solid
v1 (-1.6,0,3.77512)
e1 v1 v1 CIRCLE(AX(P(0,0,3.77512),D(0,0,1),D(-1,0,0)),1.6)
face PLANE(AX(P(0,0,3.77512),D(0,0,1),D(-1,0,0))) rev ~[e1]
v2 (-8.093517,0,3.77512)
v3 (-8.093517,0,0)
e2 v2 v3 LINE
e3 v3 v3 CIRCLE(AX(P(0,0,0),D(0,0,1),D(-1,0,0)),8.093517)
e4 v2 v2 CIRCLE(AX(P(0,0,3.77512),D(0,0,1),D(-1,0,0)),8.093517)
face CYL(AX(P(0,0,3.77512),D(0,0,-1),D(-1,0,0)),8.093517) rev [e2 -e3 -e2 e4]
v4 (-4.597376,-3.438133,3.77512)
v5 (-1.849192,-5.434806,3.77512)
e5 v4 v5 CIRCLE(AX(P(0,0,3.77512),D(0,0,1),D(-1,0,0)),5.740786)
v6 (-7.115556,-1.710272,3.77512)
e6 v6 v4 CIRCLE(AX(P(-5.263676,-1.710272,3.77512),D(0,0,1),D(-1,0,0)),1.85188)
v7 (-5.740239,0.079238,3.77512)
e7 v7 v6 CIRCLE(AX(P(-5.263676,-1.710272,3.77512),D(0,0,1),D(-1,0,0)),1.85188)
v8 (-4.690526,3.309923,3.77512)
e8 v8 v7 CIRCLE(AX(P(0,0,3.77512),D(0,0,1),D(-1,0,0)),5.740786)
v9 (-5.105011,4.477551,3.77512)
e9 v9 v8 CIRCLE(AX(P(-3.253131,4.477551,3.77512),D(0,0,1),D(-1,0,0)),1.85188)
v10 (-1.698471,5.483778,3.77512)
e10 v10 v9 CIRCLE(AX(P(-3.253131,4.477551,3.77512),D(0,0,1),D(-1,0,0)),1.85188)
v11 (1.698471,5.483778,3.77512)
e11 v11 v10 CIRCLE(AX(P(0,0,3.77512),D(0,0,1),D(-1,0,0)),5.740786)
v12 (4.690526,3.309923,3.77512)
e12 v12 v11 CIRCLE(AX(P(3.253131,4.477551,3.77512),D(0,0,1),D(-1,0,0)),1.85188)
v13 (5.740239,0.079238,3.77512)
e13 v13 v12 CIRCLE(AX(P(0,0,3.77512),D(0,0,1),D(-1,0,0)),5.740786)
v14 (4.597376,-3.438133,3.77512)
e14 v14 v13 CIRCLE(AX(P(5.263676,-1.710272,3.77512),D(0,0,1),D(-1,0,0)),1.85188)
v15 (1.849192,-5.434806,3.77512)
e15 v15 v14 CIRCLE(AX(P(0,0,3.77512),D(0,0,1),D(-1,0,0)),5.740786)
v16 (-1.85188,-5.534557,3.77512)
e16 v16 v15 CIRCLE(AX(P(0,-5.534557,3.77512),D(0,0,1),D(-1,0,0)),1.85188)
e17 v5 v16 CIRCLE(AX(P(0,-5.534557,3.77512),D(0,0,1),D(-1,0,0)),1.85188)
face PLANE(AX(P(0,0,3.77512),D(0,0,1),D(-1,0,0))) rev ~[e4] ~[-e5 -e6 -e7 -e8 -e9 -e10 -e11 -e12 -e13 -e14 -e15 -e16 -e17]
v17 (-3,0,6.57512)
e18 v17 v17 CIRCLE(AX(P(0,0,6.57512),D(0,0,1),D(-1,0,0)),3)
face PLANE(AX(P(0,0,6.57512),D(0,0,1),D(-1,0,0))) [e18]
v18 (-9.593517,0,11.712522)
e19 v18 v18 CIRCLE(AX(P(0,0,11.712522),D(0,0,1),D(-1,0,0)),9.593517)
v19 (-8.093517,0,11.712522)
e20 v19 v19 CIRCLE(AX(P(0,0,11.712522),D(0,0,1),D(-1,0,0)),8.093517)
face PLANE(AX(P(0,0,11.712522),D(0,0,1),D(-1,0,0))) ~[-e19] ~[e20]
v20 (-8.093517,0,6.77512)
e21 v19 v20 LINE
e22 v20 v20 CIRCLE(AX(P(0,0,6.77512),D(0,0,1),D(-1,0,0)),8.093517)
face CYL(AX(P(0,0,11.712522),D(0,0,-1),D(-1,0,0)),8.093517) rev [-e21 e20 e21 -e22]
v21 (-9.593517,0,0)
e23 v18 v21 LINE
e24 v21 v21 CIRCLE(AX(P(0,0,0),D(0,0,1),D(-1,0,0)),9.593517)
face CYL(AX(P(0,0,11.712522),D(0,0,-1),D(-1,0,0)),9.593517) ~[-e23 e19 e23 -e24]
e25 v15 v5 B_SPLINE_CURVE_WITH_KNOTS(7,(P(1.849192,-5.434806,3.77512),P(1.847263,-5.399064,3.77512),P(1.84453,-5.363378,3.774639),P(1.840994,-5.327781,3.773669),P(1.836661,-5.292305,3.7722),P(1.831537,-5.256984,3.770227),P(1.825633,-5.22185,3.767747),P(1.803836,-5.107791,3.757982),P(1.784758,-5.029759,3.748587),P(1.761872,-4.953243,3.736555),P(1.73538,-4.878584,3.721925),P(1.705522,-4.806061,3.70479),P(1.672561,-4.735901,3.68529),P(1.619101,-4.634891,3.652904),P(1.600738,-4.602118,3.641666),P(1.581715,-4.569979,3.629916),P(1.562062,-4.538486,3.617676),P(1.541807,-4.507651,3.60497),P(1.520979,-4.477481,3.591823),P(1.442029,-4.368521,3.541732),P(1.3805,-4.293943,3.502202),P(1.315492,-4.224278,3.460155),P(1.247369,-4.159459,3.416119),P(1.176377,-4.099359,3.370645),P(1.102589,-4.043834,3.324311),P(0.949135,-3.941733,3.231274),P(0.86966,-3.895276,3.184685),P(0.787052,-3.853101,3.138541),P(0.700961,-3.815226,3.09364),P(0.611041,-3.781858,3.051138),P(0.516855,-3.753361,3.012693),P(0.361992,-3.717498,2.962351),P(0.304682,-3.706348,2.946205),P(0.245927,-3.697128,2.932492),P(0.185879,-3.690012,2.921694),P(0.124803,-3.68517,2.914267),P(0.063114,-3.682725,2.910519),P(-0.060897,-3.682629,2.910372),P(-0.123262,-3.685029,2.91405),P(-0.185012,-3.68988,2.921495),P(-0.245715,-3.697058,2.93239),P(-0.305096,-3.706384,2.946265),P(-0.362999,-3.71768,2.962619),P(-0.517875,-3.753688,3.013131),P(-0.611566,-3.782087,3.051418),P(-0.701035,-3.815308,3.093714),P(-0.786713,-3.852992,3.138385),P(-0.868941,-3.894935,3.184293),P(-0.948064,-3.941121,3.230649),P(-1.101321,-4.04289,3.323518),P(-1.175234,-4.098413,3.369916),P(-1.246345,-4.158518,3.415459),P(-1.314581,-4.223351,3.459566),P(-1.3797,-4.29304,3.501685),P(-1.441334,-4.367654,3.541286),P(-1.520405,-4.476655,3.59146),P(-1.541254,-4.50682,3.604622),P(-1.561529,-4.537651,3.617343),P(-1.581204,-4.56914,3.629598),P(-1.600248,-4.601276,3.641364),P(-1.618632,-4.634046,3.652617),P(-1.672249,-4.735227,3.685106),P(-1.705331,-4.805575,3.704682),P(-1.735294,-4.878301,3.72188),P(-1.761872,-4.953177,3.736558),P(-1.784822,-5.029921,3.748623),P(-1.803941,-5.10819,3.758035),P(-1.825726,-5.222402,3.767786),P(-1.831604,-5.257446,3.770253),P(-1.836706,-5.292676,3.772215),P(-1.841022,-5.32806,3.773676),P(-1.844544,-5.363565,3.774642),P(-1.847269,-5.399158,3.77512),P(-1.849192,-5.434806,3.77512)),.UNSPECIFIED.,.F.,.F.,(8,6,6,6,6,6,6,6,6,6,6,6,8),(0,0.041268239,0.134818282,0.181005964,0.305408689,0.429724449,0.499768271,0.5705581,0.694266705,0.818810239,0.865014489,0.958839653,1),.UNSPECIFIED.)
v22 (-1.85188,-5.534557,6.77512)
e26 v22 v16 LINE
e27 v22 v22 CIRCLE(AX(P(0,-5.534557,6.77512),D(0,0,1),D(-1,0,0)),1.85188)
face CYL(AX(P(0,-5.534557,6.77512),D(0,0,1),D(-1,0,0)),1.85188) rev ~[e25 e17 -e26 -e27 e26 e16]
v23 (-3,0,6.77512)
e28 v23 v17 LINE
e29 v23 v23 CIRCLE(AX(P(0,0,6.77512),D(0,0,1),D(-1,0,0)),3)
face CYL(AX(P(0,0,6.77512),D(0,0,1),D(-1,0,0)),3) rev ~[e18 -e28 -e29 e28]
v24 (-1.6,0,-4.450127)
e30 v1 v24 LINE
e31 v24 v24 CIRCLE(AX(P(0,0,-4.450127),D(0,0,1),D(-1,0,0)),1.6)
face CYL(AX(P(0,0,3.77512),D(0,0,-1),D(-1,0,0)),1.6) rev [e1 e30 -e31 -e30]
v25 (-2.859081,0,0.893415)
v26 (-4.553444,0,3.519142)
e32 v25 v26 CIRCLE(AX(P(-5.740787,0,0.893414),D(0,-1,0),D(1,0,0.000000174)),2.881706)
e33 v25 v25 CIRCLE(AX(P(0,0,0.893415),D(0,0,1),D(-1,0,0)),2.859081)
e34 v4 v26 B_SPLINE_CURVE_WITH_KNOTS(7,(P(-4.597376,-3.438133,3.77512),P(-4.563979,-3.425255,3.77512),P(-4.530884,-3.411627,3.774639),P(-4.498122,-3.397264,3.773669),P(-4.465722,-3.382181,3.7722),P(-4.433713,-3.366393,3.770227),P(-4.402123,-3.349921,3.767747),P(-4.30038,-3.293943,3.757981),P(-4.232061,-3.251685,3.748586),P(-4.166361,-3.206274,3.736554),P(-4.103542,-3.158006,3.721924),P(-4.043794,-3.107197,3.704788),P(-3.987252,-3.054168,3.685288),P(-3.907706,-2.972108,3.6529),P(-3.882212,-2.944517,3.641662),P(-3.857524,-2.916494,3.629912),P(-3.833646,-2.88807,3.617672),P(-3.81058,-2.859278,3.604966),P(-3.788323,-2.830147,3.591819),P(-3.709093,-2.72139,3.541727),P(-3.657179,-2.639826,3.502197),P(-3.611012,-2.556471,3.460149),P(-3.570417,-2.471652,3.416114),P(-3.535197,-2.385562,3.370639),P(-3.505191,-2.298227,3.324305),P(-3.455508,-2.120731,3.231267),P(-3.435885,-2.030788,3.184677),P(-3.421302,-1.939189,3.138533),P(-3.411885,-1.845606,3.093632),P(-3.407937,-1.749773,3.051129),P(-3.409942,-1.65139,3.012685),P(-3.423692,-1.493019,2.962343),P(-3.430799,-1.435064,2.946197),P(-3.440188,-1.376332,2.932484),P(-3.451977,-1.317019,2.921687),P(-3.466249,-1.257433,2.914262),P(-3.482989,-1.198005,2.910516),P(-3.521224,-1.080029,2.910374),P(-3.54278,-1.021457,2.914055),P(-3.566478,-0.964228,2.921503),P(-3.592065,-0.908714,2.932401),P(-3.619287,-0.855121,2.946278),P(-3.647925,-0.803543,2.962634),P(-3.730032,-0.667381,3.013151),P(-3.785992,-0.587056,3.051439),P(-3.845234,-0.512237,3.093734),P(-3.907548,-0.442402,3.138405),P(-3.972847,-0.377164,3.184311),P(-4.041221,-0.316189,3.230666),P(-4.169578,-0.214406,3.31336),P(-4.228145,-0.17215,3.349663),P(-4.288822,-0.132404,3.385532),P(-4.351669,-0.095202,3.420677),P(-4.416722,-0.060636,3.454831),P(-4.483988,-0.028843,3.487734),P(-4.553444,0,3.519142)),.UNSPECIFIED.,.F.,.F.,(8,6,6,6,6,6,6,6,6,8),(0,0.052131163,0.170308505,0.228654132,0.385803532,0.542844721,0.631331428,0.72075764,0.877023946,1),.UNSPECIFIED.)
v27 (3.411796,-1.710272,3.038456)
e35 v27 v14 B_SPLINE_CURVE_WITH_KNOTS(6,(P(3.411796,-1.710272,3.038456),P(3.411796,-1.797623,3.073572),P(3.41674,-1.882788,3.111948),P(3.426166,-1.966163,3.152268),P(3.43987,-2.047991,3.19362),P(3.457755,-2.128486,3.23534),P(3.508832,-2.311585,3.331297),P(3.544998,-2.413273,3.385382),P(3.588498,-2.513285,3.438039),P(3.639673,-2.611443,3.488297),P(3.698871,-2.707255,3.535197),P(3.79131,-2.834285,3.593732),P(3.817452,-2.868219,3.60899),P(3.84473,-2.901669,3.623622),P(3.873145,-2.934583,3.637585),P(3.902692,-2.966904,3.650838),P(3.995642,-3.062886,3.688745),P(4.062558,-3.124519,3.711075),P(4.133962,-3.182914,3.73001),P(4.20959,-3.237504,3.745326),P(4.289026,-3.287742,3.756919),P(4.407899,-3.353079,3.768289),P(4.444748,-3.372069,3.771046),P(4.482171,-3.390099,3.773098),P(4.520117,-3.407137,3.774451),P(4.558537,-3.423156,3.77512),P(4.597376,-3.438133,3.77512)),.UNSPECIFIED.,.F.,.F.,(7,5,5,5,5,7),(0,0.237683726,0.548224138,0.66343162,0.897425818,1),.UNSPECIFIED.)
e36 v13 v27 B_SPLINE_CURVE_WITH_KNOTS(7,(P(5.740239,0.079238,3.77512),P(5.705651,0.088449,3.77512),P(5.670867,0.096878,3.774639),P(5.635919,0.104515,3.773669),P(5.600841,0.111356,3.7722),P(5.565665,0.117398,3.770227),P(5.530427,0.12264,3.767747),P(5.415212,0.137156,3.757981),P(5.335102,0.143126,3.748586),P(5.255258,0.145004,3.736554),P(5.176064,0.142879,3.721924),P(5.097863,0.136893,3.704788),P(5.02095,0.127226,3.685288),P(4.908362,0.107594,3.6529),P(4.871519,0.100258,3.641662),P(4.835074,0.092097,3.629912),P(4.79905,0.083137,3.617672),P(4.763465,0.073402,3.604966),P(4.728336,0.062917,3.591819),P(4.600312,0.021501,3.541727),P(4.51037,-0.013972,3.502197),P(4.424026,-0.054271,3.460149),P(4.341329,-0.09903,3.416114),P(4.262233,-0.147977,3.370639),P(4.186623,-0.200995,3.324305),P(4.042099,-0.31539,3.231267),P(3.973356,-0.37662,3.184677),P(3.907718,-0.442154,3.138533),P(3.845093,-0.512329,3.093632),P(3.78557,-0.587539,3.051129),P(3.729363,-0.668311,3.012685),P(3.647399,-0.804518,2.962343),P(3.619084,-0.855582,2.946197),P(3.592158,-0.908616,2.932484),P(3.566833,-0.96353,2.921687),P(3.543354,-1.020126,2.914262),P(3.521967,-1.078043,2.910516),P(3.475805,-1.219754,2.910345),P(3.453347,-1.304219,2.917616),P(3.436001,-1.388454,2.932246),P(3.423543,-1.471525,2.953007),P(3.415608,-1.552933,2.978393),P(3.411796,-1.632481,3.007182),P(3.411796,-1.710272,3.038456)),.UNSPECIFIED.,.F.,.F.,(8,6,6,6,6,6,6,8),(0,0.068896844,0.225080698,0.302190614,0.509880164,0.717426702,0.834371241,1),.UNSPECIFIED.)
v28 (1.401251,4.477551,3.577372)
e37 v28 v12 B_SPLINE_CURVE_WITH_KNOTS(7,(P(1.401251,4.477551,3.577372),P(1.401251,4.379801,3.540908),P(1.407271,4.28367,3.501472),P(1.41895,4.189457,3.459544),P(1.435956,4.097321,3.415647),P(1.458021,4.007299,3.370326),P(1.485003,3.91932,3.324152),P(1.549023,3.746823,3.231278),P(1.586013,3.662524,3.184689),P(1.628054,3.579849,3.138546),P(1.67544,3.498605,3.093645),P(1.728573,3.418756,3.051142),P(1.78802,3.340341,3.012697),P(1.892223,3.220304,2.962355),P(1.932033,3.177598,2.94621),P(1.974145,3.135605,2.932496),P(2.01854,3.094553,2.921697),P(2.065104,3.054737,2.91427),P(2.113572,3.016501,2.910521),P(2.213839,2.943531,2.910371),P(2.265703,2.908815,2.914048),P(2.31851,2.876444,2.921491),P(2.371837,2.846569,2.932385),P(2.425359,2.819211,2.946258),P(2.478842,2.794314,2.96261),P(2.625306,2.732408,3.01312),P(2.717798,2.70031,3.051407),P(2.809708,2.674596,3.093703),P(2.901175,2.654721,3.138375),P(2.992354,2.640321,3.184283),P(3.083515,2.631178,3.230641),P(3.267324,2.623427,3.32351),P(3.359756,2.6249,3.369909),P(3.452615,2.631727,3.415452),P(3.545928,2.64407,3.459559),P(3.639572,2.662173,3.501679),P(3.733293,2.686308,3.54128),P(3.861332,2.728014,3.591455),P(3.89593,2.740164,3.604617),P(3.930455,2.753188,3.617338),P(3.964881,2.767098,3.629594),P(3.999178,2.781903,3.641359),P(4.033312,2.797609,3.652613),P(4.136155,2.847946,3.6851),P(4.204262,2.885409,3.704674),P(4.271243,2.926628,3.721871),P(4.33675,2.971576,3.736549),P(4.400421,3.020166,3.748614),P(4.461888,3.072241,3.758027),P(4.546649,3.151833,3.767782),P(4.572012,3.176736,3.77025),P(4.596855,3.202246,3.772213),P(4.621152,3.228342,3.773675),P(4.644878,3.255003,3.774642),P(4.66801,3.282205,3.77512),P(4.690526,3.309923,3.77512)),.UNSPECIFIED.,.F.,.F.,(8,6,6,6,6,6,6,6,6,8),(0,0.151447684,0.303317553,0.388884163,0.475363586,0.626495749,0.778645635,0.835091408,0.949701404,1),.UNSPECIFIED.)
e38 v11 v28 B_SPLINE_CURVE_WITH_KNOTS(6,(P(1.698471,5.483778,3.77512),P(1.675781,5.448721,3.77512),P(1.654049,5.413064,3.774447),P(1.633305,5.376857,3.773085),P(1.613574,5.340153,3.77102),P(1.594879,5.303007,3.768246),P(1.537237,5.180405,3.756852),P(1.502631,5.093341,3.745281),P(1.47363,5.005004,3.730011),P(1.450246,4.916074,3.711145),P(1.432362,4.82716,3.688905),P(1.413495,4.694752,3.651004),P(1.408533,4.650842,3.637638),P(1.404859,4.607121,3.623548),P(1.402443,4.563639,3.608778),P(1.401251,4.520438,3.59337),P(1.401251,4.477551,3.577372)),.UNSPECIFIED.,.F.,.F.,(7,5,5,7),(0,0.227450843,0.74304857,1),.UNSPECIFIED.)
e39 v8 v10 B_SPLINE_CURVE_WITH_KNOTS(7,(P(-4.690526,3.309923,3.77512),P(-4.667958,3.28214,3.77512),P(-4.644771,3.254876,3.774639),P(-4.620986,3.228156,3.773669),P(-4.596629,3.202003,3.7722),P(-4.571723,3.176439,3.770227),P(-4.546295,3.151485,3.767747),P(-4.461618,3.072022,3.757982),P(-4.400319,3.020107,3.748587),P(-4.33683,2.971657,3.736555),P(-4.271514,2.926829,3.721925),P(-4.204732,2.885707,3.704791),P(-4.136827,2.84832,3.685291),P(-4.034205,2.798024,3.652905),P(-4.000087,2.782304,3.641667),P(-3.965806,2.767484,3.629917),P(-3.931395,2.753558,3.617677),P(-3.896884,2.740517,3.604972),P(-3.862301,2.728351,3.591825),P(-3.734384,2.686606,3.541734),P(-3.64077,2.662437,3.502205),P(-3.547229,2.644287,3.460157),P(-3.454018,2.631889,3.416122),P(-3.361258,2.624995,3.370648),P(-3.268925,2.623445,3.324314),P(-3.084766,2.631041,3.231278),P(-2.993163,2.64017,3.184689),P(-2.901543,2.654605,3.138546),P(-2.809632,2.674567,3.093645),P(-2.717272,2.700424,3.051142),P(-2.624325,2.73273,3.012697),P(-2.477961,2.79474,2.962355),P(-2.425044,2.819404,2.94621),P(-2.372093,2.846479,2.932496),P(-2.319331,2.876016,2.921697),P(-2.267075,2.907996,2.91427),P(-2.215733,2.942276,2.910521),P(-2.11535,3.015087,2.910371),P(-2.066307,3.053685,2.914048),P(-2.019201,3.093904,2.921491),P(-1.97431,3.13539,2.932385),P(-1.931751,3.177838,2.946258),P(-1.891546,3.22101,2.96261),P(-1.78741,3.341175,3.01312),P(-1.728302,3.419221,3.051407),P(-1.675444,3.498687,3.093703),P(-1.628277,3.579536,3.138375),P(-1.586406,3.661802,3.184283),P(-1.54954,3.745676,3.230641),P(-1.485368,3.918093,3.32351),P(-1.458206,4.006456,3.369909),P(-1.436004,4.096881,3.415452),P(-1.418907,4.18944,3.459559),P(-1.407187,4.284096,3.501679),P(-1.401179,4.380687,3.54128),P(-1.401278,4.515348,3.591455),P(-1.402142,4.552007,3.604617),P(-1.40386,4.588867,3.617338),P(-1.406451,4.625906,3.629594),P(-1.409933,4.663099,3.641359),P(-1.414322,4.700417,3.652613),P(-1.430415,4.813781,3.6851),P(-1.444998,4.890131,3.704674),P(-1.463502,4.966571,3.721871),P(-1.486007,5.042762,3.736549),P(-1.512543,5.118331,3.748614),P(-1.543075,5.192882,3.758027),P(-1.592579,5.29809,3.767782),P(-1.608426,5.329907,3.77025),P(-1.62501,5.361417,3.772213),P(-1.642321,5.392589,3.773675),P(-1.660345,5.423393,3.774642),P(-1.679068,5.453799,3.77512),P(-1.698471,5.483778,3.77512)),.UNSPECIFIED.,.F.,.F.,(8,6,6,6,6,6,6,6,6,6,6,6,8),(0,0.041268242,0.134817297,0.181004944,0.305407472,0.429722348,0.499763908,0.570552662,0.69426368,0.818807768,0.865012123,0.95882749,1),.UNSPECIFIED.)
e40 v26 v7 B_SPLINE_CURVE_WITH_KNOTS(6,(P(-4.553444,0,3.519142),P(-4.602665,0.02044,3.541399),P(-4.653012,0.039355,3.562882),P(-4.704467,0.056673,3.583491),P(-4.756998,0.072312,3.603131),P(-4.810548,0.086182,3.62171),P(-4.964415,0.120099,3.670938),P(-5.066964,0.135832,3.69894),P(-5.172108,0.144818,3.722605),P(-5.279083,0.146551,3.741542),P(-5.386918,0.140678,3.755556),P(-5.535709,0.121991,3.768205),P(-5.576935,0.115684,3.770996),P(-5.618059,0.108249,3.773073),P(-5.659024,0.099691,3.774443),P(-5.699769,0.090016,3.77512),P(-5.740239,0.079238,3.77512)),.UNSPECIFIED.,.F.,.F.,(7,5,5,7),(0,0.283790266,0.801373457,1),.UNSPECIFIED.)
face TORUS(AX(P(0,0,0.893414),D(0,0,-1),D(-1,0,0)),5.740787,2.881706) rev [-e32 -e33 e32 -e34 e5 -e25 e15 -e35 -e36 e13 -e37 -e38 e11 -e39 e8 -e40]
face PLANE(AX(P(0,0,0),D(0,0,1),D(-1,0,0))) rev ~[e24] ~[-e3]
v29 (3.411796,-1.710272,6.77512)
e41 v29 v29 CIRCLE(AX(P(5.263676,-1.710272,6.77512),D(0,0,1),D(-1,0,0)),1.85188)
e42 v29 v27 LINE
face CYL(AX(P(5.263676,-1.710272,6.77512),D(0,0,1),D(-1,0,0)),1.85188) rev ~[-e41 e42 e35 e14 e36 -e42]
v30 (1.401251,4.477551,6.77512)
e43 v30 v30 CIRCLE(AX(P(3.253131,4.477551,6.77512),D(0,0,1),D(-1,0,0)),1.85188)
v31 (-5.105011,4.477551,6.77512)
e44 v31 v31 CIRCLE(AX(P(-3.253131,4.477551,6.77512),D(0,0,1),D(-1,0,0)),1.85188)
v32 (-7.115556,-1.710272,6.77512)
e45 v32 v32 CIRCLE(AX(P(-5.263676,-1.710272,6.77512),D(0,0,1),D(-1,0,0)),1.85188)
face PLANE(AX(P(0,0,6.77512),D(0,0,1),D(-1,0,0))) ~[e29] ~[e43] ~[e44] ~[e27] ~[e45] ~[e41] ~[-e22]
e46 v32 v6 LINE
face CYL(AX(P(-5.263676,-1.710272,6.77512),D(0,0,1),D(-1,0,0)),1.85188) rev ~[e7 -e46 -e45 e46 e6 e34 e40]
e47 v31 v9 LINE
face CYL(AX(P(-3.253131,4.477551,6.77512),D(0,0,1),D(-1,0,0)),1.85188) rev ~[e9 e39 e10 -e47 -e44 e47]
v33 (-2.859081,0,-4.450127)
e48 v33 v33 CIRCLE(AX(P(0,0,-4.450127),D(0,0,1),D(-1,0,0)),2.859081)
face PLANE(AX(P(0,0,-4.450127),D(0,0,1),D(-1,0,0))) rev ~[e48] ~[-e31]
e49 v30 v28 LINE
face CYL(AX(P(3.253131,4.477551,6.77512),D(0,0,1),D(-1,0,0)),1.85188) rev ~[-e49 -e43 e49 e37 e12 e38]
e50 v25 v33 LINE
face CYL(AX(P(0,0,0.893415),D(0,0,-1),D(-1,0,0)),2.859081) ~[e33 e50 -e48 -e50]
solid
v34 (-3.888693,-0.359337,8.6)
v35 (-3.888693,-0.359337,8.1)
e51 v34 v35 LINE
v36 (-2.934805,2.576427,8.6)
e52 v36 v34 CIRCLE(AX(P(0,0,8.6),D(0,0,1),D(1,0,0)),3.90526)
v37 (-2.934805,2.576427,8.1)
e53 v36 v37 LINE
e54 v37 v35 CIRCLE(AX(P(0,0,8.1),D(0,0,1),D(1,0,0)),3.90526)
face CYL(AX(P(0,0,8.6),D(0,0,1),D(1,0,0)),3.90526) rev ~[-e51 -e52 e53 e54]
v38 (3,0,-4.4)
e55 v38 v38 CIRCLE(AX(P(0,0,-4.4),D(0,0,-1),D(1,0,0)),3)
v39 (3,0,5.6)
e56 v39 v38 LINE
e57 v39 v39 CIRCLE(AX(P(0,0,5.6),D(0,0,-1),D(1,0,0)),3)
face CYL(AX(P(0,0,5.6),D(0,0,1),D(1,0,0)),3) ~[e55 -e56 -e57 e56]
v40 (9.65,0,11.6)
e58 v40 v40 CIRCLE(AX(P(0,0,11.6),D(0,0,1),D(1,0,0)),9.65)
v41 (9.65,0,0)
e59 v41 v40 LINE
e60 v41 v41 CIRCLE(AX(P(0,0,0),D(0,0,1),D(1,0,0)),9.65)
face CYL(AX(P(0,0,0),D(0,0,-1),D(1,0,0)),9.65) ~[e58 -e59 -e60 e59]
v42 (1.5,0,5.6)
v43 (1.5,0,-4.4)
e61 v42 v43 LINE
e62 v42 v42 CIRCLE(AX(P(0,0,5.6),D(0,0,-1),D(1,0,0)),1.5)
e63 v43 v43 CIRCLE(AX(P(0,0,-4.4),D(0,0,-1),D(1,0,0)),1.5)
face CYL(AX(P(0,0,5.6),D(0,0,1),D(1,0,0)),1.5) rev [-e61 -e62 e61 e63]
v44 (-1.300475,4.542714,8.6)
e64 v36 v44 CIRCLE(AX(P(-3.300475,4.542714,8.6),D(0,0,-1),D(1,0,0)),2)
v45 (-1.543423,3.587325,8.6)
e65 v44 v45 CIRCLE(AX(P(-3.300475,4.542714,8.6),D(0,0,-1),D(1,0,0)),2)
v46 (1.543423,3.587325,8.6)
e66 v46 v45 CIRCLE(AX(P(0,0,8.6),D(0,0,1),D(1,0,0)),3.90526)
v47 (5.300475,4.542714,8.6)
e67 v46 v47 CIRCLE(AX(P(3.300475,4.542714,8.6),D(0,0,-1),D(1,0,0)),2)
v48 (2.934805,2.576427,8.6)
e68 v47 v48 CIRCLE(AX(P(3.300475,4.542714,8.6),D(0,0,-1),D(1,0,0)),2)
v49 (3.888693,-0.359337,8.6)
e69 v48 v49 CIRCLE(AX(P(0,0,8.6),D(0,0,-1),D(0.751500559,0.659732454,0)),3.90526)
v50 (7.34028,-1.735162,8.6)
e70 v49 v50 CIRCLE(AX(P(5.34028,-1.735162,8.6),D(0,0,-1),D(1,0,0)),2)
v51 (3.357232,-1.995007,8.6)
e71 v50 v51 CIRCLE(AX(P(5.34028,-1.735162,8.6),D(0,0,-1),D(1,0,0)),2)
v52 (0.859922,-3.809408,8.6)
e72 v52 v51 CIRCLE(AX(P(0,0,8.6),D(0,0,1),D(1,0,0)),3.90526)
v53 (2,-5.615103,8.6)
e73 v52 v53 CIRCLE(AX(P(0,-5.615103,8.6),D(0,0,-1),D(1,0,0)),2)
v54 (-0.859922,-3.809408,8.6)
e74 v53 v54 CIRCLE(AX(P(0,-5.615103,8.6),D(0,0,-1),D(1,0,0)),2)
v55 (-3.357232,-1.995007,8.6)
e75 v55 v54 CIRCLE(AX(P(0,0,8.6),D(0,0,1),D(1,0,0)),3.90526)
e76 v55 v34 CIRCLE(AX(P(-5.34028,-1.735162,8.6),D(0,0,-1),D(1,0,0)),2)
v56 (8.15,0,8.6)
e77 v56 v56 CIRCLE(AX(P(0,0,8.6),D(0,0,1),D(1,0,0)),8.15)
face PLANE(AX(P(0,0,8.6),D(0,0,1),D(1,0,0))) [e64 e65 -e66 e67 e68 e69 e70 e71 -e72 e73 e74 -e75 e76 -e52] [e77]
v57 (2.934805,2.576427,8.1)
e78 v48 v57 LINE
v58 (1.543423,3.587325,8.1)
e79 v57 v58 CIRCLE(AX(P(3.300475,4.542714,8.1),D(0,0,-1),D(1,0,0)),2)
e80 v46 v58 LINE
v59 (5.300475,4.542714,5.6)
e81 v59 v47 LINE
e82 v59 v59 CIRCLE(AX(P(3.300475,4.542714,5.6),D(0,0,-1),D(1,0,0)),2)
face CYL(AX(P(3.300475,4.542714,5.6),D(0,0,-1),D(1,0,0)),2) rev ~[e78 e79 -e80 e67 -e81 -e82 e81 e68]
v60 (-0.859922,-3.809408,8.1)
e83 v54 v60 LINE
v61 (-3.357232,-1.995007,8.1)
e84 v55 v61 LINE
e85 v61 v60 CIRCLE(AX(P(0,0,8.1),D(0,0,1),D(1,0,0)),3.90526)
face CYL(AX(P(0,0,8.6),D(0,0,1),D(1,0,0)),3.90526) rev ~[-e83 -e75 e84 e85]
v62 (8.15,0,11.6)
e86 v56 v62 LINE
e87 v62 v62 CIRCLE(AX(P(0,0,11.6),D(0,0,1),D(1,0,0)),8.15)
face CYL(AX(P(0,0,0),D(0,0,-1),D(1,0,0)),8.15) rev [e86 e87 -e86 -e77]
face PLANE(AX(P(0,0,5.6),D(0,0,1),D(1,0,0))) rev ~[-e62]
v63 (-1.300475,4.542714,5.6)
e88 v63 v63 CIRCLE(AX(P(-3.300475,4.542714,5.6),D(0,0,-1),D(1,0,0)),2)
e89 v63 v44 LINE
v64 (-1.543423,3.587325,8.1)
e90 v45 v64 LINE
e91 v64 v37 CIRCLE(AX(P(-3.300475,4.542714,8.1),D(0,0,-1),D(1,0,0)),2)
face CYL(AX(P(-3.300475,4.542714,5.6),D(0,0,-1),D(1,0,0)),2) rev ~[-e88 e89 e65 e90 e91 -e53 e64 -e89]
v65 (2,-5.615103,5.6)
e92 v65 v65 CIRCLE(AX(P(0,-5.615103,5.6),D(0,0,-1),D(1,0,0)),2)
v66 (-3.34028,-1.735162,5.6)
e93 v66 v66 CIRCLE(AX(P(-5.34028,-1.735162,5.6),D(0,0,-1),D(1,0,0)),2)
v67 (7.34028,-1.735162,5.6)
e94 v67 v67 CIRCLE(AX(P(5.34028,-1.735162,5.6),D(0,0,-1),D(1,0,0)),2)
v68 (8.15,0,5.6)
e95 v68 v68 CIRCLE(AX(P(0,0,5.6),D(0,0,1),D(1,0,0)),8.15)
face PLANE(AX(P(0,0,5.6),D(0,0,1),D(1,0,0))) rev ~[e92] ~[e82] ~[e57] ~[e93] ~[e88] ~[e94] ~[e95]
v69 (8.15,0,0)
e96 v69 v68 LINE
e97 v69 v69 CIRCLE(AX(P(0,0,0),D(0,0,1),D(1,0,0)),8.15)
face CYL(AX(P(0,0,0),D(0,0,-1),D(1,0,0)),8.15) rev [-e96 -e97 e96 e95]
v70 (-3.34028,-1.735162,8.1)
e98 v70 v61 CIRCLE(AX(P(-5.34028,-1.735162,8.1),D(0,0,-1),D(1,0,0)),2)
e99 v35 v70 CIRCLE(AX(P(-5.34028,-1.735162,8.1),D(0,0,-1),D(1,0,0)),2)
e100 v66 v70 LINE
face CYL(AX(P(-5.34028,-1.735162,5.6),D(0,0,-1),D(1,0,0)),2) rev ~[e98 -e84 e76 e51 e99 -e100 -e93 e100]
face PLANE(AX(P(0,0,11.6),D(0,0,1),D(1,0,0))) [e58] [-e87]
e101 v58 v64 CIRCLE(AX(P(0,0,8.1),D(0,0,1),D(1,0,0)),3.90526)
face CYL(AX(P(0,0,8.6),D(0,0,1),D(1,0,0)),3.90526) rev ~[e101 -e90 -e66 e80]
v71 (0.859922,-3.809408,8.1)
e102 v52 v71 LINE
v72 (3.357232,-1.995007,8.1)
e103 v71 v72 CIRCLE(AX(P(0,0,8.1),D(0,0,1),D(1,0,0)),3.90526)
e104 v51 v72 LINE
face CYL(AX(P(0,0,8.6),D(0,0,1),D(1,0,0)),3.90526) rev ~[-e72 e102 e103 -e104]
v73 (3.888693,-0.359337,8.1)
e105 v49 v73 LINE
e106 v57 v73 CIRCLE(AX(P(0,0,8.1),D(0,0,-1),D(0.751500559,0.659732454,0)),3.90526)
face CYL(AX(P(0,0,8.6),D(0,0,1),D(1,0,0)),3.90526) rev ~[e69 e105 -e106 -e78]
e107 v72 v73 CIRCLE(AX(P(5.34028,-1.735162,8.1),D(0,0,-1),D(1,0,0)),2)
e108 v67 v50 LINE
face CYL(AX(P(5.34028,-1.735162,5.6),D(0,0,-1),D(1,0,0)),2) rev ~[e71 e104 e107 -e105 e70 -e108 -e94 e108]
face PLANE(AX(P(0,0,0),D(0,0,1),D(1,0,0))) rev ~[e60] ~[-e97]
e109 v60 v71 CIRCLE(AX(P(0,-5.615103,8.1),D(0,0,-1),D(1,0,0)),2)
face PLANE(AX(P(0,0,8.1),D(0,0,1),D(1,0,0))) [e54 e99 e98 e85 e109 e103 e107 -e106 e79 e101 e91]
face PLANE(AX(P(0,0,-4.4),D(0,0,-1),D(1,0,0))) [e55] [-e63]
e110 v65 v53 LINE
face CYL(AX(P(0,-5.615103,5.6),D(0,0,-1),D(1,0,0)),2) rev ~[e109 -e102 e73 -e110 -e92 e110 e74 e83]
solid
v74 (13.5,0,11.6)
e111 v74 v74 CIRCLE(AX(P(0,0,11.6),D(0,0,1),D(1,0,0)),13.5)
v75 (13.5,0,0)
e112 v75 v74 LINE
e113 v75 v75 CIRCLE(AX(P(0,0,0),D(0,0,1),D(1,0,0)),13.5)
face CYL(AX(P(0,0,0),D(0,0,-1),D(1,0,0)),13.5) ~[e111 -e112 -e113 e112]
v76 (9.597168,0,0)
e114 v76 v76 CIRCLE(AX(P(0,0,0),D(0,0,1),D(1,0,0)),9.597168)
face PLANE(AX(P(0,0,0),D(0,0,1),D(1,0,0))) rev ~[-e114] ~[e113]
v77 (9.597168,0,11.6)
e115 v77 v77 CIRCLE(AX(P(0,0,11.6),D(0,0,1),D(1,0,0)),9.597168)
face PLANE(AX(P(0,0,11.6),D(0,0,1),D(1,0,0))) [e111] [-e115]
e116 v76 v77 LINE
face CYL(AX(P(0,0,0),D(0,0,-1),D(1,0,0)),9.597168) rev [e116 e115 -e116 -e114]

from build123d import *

# Parameters (mm, degrees)
SKETCH_R        = 9.65
SKETCH_R_2      = 8.15
PAD_DEPTH       = 11.6
SKETCH001_R     = 8.15
PAD001_DEPTH    = 3
SKETCH002_R     = 2
POCKET_DEPTH    = 5
SKETCH003_R     = 3
SKETCH003_R_2   = 1.5
PAD002_DEPTH    = 10
SKETCH004_R     = 3.90526
POCKET001_DEPTH = 0.5
SKETCH005_R     = 13.5
SKETCH005_R_2   = 9.597168
PAD003_DEPTH    = 11.6
SKETCH008_R     = 3
POCKET002_DEPTH = 0.2
SKETCH009_R     = 1.85188
POCKET003_DEPTH = 5


with BuildPart() as body:
    # Sketch → Pad (new body)
    with BuildSketch(Plane.XY):
        Circle(SKETCH_R)
        Circle(SKETCH_R_2, mode=Mode.SUBTRACT)
    extrude(amount=PAD_DEPTH)

    # Sketch001 (on Face4 of Pad) → Pad001 (join)
    with BuildSketch(Plane.XY.offset(8.6)):
        Circle(SKETCH001_R)
    extrude(amount=-PAD001_DEPTH)

    # Sketch002 (on Face6 of Pad001) → Pocket (cut)
    with BuildSketch(Plane(origin=(0, 0, 5.6), x_dir=(1, 0, 0), z_dir=(0, 0, -1))):
        with Locations((0, 5.615103)):
            Circle(SKETCH002_R)
        with Locations((5.34028, 1.735162)):
            Circle(SKETCH002_R)
        with Locations((3.300475, -4.542714)):
            Circle(SKETCH002_R)
        with Locations((-3.300475, -4.542714)):
            Circle(SKETCH002_R)
        with Locations((-5.34028, 1.735162)):
            Circle(SKETCH002_R)
    extrude(amount=-POCKET_DEPTH, mode=Mode.SUBTRACT)

    # Sketch003 (on Face6 of Pocket) → Pad002 (join)
    with BuildSketch(Plane(origin=(0, 0, 5.6), x_dir=(1, 0, 0), z_dir=(0, 0, -1))):
        Circle(SKETCH003_R)
        Circle(SKETCH003_R_2, mode=Mode.SUBTRACT)
    extrude(amount=PAD002_DEPTH)

    # Sketch004 (on Face7 of Pad002) → Pocket001 (cut)
    with BuildSketch(Plane.XY.offset(8.6)):
        Circle(SKETCH004_R)
    extrude(amount=-POCKET001_DEPTH, mode=Mode.SUBTRACT)


with BuildPart() as body002:
    # Sketch005 → Pad003 (new body)
    with BuildSketch(Plane.XY):
        Circle(SKETCH005_R)
        Circle(SKETCH005_R_2, mode=Mode.SUBTRACT)
    extrude(amount=PAD003_DEPTH)


with BuildPart() as body003:
    # Sketch007 → Revolution (revolve)
    with BuildSketch(Plane.XZ):
        with BuildLine():
            Line((-8.093517, 11.712522), (-9.593517, 11.712522))
            Line((-9.593517, 11.712522), (-9.593517, 0))
            Line((-9.593517, 0), (-8.093517, 0))
            Line((-8.093517, 3.77512), (-8.093517, 0))
            Line((-8.093517, 3.77512), (-5.740786, 3.77512))
            ThreePointArc((-2.859081, 0.893415), (-3.703113, 2.931088), (-5.740786, 3.77512))
            Line((-2.859081, 0.893415), (-2.859081, -4.450127))
            Line((-2.859081, -4.450127), (-1.6, -4.450127))
            Line((-1.6, 3.77512), (-1.6, -4.450127))
            Line((-1.6, 3.77512), (0, 3.77512))
            Line((0, 3.77512), (0, 6.77512))
            Line((0, 6.77512), (-8.093517, 6.77512))
            Line((-8.093517, 11.712522), (-8.093517, 6.77512))
        make_face()
    revolve(axis=Axis((0, 0, 0), (0, 0, 1)))

    # Sketch008 (on Face2 of Revolution) → Pocket002 (cut)
    with BuildSketch(Plane(origin=(0, 0, 6.77512), x_dir=(-1, 0, 0), z_dir=(0, 0, 1))):
        Circle(SKETCH008_R)
    extrude(amount=-POCKET002_DEPTH, mode=Mode.SUBTRACT)

    # Sketch009 (on Face12 of Pocket002) → Pocket003 (cut)
    with BuildSketch(Plane(origin=(0, 0, 6.77512), x_dir=(-1, 0, 0), z_dir=(0, 0, 1))):
        with Locations((0, 5.534557)):
            Circle(SKETCH009_R)
        with Locations((5.263676, 1.710272)):
            Circle(SKETCH009_R)
        with Locations((3.253131, -4.477551)):
            Circle(SKETCH009_R)
        with Locations((-3.253131, -4.477551)):
            Circle(SKETCH009_R)
        with Locations((-5.263676, 1.710272)):
            Circle(SKETCH009_R)
    extrude(amount=-POCKET003_DEPTH, mode=Mode.SUBTRACT)


solid = Compound([body.part, body002.part, body003.part])
